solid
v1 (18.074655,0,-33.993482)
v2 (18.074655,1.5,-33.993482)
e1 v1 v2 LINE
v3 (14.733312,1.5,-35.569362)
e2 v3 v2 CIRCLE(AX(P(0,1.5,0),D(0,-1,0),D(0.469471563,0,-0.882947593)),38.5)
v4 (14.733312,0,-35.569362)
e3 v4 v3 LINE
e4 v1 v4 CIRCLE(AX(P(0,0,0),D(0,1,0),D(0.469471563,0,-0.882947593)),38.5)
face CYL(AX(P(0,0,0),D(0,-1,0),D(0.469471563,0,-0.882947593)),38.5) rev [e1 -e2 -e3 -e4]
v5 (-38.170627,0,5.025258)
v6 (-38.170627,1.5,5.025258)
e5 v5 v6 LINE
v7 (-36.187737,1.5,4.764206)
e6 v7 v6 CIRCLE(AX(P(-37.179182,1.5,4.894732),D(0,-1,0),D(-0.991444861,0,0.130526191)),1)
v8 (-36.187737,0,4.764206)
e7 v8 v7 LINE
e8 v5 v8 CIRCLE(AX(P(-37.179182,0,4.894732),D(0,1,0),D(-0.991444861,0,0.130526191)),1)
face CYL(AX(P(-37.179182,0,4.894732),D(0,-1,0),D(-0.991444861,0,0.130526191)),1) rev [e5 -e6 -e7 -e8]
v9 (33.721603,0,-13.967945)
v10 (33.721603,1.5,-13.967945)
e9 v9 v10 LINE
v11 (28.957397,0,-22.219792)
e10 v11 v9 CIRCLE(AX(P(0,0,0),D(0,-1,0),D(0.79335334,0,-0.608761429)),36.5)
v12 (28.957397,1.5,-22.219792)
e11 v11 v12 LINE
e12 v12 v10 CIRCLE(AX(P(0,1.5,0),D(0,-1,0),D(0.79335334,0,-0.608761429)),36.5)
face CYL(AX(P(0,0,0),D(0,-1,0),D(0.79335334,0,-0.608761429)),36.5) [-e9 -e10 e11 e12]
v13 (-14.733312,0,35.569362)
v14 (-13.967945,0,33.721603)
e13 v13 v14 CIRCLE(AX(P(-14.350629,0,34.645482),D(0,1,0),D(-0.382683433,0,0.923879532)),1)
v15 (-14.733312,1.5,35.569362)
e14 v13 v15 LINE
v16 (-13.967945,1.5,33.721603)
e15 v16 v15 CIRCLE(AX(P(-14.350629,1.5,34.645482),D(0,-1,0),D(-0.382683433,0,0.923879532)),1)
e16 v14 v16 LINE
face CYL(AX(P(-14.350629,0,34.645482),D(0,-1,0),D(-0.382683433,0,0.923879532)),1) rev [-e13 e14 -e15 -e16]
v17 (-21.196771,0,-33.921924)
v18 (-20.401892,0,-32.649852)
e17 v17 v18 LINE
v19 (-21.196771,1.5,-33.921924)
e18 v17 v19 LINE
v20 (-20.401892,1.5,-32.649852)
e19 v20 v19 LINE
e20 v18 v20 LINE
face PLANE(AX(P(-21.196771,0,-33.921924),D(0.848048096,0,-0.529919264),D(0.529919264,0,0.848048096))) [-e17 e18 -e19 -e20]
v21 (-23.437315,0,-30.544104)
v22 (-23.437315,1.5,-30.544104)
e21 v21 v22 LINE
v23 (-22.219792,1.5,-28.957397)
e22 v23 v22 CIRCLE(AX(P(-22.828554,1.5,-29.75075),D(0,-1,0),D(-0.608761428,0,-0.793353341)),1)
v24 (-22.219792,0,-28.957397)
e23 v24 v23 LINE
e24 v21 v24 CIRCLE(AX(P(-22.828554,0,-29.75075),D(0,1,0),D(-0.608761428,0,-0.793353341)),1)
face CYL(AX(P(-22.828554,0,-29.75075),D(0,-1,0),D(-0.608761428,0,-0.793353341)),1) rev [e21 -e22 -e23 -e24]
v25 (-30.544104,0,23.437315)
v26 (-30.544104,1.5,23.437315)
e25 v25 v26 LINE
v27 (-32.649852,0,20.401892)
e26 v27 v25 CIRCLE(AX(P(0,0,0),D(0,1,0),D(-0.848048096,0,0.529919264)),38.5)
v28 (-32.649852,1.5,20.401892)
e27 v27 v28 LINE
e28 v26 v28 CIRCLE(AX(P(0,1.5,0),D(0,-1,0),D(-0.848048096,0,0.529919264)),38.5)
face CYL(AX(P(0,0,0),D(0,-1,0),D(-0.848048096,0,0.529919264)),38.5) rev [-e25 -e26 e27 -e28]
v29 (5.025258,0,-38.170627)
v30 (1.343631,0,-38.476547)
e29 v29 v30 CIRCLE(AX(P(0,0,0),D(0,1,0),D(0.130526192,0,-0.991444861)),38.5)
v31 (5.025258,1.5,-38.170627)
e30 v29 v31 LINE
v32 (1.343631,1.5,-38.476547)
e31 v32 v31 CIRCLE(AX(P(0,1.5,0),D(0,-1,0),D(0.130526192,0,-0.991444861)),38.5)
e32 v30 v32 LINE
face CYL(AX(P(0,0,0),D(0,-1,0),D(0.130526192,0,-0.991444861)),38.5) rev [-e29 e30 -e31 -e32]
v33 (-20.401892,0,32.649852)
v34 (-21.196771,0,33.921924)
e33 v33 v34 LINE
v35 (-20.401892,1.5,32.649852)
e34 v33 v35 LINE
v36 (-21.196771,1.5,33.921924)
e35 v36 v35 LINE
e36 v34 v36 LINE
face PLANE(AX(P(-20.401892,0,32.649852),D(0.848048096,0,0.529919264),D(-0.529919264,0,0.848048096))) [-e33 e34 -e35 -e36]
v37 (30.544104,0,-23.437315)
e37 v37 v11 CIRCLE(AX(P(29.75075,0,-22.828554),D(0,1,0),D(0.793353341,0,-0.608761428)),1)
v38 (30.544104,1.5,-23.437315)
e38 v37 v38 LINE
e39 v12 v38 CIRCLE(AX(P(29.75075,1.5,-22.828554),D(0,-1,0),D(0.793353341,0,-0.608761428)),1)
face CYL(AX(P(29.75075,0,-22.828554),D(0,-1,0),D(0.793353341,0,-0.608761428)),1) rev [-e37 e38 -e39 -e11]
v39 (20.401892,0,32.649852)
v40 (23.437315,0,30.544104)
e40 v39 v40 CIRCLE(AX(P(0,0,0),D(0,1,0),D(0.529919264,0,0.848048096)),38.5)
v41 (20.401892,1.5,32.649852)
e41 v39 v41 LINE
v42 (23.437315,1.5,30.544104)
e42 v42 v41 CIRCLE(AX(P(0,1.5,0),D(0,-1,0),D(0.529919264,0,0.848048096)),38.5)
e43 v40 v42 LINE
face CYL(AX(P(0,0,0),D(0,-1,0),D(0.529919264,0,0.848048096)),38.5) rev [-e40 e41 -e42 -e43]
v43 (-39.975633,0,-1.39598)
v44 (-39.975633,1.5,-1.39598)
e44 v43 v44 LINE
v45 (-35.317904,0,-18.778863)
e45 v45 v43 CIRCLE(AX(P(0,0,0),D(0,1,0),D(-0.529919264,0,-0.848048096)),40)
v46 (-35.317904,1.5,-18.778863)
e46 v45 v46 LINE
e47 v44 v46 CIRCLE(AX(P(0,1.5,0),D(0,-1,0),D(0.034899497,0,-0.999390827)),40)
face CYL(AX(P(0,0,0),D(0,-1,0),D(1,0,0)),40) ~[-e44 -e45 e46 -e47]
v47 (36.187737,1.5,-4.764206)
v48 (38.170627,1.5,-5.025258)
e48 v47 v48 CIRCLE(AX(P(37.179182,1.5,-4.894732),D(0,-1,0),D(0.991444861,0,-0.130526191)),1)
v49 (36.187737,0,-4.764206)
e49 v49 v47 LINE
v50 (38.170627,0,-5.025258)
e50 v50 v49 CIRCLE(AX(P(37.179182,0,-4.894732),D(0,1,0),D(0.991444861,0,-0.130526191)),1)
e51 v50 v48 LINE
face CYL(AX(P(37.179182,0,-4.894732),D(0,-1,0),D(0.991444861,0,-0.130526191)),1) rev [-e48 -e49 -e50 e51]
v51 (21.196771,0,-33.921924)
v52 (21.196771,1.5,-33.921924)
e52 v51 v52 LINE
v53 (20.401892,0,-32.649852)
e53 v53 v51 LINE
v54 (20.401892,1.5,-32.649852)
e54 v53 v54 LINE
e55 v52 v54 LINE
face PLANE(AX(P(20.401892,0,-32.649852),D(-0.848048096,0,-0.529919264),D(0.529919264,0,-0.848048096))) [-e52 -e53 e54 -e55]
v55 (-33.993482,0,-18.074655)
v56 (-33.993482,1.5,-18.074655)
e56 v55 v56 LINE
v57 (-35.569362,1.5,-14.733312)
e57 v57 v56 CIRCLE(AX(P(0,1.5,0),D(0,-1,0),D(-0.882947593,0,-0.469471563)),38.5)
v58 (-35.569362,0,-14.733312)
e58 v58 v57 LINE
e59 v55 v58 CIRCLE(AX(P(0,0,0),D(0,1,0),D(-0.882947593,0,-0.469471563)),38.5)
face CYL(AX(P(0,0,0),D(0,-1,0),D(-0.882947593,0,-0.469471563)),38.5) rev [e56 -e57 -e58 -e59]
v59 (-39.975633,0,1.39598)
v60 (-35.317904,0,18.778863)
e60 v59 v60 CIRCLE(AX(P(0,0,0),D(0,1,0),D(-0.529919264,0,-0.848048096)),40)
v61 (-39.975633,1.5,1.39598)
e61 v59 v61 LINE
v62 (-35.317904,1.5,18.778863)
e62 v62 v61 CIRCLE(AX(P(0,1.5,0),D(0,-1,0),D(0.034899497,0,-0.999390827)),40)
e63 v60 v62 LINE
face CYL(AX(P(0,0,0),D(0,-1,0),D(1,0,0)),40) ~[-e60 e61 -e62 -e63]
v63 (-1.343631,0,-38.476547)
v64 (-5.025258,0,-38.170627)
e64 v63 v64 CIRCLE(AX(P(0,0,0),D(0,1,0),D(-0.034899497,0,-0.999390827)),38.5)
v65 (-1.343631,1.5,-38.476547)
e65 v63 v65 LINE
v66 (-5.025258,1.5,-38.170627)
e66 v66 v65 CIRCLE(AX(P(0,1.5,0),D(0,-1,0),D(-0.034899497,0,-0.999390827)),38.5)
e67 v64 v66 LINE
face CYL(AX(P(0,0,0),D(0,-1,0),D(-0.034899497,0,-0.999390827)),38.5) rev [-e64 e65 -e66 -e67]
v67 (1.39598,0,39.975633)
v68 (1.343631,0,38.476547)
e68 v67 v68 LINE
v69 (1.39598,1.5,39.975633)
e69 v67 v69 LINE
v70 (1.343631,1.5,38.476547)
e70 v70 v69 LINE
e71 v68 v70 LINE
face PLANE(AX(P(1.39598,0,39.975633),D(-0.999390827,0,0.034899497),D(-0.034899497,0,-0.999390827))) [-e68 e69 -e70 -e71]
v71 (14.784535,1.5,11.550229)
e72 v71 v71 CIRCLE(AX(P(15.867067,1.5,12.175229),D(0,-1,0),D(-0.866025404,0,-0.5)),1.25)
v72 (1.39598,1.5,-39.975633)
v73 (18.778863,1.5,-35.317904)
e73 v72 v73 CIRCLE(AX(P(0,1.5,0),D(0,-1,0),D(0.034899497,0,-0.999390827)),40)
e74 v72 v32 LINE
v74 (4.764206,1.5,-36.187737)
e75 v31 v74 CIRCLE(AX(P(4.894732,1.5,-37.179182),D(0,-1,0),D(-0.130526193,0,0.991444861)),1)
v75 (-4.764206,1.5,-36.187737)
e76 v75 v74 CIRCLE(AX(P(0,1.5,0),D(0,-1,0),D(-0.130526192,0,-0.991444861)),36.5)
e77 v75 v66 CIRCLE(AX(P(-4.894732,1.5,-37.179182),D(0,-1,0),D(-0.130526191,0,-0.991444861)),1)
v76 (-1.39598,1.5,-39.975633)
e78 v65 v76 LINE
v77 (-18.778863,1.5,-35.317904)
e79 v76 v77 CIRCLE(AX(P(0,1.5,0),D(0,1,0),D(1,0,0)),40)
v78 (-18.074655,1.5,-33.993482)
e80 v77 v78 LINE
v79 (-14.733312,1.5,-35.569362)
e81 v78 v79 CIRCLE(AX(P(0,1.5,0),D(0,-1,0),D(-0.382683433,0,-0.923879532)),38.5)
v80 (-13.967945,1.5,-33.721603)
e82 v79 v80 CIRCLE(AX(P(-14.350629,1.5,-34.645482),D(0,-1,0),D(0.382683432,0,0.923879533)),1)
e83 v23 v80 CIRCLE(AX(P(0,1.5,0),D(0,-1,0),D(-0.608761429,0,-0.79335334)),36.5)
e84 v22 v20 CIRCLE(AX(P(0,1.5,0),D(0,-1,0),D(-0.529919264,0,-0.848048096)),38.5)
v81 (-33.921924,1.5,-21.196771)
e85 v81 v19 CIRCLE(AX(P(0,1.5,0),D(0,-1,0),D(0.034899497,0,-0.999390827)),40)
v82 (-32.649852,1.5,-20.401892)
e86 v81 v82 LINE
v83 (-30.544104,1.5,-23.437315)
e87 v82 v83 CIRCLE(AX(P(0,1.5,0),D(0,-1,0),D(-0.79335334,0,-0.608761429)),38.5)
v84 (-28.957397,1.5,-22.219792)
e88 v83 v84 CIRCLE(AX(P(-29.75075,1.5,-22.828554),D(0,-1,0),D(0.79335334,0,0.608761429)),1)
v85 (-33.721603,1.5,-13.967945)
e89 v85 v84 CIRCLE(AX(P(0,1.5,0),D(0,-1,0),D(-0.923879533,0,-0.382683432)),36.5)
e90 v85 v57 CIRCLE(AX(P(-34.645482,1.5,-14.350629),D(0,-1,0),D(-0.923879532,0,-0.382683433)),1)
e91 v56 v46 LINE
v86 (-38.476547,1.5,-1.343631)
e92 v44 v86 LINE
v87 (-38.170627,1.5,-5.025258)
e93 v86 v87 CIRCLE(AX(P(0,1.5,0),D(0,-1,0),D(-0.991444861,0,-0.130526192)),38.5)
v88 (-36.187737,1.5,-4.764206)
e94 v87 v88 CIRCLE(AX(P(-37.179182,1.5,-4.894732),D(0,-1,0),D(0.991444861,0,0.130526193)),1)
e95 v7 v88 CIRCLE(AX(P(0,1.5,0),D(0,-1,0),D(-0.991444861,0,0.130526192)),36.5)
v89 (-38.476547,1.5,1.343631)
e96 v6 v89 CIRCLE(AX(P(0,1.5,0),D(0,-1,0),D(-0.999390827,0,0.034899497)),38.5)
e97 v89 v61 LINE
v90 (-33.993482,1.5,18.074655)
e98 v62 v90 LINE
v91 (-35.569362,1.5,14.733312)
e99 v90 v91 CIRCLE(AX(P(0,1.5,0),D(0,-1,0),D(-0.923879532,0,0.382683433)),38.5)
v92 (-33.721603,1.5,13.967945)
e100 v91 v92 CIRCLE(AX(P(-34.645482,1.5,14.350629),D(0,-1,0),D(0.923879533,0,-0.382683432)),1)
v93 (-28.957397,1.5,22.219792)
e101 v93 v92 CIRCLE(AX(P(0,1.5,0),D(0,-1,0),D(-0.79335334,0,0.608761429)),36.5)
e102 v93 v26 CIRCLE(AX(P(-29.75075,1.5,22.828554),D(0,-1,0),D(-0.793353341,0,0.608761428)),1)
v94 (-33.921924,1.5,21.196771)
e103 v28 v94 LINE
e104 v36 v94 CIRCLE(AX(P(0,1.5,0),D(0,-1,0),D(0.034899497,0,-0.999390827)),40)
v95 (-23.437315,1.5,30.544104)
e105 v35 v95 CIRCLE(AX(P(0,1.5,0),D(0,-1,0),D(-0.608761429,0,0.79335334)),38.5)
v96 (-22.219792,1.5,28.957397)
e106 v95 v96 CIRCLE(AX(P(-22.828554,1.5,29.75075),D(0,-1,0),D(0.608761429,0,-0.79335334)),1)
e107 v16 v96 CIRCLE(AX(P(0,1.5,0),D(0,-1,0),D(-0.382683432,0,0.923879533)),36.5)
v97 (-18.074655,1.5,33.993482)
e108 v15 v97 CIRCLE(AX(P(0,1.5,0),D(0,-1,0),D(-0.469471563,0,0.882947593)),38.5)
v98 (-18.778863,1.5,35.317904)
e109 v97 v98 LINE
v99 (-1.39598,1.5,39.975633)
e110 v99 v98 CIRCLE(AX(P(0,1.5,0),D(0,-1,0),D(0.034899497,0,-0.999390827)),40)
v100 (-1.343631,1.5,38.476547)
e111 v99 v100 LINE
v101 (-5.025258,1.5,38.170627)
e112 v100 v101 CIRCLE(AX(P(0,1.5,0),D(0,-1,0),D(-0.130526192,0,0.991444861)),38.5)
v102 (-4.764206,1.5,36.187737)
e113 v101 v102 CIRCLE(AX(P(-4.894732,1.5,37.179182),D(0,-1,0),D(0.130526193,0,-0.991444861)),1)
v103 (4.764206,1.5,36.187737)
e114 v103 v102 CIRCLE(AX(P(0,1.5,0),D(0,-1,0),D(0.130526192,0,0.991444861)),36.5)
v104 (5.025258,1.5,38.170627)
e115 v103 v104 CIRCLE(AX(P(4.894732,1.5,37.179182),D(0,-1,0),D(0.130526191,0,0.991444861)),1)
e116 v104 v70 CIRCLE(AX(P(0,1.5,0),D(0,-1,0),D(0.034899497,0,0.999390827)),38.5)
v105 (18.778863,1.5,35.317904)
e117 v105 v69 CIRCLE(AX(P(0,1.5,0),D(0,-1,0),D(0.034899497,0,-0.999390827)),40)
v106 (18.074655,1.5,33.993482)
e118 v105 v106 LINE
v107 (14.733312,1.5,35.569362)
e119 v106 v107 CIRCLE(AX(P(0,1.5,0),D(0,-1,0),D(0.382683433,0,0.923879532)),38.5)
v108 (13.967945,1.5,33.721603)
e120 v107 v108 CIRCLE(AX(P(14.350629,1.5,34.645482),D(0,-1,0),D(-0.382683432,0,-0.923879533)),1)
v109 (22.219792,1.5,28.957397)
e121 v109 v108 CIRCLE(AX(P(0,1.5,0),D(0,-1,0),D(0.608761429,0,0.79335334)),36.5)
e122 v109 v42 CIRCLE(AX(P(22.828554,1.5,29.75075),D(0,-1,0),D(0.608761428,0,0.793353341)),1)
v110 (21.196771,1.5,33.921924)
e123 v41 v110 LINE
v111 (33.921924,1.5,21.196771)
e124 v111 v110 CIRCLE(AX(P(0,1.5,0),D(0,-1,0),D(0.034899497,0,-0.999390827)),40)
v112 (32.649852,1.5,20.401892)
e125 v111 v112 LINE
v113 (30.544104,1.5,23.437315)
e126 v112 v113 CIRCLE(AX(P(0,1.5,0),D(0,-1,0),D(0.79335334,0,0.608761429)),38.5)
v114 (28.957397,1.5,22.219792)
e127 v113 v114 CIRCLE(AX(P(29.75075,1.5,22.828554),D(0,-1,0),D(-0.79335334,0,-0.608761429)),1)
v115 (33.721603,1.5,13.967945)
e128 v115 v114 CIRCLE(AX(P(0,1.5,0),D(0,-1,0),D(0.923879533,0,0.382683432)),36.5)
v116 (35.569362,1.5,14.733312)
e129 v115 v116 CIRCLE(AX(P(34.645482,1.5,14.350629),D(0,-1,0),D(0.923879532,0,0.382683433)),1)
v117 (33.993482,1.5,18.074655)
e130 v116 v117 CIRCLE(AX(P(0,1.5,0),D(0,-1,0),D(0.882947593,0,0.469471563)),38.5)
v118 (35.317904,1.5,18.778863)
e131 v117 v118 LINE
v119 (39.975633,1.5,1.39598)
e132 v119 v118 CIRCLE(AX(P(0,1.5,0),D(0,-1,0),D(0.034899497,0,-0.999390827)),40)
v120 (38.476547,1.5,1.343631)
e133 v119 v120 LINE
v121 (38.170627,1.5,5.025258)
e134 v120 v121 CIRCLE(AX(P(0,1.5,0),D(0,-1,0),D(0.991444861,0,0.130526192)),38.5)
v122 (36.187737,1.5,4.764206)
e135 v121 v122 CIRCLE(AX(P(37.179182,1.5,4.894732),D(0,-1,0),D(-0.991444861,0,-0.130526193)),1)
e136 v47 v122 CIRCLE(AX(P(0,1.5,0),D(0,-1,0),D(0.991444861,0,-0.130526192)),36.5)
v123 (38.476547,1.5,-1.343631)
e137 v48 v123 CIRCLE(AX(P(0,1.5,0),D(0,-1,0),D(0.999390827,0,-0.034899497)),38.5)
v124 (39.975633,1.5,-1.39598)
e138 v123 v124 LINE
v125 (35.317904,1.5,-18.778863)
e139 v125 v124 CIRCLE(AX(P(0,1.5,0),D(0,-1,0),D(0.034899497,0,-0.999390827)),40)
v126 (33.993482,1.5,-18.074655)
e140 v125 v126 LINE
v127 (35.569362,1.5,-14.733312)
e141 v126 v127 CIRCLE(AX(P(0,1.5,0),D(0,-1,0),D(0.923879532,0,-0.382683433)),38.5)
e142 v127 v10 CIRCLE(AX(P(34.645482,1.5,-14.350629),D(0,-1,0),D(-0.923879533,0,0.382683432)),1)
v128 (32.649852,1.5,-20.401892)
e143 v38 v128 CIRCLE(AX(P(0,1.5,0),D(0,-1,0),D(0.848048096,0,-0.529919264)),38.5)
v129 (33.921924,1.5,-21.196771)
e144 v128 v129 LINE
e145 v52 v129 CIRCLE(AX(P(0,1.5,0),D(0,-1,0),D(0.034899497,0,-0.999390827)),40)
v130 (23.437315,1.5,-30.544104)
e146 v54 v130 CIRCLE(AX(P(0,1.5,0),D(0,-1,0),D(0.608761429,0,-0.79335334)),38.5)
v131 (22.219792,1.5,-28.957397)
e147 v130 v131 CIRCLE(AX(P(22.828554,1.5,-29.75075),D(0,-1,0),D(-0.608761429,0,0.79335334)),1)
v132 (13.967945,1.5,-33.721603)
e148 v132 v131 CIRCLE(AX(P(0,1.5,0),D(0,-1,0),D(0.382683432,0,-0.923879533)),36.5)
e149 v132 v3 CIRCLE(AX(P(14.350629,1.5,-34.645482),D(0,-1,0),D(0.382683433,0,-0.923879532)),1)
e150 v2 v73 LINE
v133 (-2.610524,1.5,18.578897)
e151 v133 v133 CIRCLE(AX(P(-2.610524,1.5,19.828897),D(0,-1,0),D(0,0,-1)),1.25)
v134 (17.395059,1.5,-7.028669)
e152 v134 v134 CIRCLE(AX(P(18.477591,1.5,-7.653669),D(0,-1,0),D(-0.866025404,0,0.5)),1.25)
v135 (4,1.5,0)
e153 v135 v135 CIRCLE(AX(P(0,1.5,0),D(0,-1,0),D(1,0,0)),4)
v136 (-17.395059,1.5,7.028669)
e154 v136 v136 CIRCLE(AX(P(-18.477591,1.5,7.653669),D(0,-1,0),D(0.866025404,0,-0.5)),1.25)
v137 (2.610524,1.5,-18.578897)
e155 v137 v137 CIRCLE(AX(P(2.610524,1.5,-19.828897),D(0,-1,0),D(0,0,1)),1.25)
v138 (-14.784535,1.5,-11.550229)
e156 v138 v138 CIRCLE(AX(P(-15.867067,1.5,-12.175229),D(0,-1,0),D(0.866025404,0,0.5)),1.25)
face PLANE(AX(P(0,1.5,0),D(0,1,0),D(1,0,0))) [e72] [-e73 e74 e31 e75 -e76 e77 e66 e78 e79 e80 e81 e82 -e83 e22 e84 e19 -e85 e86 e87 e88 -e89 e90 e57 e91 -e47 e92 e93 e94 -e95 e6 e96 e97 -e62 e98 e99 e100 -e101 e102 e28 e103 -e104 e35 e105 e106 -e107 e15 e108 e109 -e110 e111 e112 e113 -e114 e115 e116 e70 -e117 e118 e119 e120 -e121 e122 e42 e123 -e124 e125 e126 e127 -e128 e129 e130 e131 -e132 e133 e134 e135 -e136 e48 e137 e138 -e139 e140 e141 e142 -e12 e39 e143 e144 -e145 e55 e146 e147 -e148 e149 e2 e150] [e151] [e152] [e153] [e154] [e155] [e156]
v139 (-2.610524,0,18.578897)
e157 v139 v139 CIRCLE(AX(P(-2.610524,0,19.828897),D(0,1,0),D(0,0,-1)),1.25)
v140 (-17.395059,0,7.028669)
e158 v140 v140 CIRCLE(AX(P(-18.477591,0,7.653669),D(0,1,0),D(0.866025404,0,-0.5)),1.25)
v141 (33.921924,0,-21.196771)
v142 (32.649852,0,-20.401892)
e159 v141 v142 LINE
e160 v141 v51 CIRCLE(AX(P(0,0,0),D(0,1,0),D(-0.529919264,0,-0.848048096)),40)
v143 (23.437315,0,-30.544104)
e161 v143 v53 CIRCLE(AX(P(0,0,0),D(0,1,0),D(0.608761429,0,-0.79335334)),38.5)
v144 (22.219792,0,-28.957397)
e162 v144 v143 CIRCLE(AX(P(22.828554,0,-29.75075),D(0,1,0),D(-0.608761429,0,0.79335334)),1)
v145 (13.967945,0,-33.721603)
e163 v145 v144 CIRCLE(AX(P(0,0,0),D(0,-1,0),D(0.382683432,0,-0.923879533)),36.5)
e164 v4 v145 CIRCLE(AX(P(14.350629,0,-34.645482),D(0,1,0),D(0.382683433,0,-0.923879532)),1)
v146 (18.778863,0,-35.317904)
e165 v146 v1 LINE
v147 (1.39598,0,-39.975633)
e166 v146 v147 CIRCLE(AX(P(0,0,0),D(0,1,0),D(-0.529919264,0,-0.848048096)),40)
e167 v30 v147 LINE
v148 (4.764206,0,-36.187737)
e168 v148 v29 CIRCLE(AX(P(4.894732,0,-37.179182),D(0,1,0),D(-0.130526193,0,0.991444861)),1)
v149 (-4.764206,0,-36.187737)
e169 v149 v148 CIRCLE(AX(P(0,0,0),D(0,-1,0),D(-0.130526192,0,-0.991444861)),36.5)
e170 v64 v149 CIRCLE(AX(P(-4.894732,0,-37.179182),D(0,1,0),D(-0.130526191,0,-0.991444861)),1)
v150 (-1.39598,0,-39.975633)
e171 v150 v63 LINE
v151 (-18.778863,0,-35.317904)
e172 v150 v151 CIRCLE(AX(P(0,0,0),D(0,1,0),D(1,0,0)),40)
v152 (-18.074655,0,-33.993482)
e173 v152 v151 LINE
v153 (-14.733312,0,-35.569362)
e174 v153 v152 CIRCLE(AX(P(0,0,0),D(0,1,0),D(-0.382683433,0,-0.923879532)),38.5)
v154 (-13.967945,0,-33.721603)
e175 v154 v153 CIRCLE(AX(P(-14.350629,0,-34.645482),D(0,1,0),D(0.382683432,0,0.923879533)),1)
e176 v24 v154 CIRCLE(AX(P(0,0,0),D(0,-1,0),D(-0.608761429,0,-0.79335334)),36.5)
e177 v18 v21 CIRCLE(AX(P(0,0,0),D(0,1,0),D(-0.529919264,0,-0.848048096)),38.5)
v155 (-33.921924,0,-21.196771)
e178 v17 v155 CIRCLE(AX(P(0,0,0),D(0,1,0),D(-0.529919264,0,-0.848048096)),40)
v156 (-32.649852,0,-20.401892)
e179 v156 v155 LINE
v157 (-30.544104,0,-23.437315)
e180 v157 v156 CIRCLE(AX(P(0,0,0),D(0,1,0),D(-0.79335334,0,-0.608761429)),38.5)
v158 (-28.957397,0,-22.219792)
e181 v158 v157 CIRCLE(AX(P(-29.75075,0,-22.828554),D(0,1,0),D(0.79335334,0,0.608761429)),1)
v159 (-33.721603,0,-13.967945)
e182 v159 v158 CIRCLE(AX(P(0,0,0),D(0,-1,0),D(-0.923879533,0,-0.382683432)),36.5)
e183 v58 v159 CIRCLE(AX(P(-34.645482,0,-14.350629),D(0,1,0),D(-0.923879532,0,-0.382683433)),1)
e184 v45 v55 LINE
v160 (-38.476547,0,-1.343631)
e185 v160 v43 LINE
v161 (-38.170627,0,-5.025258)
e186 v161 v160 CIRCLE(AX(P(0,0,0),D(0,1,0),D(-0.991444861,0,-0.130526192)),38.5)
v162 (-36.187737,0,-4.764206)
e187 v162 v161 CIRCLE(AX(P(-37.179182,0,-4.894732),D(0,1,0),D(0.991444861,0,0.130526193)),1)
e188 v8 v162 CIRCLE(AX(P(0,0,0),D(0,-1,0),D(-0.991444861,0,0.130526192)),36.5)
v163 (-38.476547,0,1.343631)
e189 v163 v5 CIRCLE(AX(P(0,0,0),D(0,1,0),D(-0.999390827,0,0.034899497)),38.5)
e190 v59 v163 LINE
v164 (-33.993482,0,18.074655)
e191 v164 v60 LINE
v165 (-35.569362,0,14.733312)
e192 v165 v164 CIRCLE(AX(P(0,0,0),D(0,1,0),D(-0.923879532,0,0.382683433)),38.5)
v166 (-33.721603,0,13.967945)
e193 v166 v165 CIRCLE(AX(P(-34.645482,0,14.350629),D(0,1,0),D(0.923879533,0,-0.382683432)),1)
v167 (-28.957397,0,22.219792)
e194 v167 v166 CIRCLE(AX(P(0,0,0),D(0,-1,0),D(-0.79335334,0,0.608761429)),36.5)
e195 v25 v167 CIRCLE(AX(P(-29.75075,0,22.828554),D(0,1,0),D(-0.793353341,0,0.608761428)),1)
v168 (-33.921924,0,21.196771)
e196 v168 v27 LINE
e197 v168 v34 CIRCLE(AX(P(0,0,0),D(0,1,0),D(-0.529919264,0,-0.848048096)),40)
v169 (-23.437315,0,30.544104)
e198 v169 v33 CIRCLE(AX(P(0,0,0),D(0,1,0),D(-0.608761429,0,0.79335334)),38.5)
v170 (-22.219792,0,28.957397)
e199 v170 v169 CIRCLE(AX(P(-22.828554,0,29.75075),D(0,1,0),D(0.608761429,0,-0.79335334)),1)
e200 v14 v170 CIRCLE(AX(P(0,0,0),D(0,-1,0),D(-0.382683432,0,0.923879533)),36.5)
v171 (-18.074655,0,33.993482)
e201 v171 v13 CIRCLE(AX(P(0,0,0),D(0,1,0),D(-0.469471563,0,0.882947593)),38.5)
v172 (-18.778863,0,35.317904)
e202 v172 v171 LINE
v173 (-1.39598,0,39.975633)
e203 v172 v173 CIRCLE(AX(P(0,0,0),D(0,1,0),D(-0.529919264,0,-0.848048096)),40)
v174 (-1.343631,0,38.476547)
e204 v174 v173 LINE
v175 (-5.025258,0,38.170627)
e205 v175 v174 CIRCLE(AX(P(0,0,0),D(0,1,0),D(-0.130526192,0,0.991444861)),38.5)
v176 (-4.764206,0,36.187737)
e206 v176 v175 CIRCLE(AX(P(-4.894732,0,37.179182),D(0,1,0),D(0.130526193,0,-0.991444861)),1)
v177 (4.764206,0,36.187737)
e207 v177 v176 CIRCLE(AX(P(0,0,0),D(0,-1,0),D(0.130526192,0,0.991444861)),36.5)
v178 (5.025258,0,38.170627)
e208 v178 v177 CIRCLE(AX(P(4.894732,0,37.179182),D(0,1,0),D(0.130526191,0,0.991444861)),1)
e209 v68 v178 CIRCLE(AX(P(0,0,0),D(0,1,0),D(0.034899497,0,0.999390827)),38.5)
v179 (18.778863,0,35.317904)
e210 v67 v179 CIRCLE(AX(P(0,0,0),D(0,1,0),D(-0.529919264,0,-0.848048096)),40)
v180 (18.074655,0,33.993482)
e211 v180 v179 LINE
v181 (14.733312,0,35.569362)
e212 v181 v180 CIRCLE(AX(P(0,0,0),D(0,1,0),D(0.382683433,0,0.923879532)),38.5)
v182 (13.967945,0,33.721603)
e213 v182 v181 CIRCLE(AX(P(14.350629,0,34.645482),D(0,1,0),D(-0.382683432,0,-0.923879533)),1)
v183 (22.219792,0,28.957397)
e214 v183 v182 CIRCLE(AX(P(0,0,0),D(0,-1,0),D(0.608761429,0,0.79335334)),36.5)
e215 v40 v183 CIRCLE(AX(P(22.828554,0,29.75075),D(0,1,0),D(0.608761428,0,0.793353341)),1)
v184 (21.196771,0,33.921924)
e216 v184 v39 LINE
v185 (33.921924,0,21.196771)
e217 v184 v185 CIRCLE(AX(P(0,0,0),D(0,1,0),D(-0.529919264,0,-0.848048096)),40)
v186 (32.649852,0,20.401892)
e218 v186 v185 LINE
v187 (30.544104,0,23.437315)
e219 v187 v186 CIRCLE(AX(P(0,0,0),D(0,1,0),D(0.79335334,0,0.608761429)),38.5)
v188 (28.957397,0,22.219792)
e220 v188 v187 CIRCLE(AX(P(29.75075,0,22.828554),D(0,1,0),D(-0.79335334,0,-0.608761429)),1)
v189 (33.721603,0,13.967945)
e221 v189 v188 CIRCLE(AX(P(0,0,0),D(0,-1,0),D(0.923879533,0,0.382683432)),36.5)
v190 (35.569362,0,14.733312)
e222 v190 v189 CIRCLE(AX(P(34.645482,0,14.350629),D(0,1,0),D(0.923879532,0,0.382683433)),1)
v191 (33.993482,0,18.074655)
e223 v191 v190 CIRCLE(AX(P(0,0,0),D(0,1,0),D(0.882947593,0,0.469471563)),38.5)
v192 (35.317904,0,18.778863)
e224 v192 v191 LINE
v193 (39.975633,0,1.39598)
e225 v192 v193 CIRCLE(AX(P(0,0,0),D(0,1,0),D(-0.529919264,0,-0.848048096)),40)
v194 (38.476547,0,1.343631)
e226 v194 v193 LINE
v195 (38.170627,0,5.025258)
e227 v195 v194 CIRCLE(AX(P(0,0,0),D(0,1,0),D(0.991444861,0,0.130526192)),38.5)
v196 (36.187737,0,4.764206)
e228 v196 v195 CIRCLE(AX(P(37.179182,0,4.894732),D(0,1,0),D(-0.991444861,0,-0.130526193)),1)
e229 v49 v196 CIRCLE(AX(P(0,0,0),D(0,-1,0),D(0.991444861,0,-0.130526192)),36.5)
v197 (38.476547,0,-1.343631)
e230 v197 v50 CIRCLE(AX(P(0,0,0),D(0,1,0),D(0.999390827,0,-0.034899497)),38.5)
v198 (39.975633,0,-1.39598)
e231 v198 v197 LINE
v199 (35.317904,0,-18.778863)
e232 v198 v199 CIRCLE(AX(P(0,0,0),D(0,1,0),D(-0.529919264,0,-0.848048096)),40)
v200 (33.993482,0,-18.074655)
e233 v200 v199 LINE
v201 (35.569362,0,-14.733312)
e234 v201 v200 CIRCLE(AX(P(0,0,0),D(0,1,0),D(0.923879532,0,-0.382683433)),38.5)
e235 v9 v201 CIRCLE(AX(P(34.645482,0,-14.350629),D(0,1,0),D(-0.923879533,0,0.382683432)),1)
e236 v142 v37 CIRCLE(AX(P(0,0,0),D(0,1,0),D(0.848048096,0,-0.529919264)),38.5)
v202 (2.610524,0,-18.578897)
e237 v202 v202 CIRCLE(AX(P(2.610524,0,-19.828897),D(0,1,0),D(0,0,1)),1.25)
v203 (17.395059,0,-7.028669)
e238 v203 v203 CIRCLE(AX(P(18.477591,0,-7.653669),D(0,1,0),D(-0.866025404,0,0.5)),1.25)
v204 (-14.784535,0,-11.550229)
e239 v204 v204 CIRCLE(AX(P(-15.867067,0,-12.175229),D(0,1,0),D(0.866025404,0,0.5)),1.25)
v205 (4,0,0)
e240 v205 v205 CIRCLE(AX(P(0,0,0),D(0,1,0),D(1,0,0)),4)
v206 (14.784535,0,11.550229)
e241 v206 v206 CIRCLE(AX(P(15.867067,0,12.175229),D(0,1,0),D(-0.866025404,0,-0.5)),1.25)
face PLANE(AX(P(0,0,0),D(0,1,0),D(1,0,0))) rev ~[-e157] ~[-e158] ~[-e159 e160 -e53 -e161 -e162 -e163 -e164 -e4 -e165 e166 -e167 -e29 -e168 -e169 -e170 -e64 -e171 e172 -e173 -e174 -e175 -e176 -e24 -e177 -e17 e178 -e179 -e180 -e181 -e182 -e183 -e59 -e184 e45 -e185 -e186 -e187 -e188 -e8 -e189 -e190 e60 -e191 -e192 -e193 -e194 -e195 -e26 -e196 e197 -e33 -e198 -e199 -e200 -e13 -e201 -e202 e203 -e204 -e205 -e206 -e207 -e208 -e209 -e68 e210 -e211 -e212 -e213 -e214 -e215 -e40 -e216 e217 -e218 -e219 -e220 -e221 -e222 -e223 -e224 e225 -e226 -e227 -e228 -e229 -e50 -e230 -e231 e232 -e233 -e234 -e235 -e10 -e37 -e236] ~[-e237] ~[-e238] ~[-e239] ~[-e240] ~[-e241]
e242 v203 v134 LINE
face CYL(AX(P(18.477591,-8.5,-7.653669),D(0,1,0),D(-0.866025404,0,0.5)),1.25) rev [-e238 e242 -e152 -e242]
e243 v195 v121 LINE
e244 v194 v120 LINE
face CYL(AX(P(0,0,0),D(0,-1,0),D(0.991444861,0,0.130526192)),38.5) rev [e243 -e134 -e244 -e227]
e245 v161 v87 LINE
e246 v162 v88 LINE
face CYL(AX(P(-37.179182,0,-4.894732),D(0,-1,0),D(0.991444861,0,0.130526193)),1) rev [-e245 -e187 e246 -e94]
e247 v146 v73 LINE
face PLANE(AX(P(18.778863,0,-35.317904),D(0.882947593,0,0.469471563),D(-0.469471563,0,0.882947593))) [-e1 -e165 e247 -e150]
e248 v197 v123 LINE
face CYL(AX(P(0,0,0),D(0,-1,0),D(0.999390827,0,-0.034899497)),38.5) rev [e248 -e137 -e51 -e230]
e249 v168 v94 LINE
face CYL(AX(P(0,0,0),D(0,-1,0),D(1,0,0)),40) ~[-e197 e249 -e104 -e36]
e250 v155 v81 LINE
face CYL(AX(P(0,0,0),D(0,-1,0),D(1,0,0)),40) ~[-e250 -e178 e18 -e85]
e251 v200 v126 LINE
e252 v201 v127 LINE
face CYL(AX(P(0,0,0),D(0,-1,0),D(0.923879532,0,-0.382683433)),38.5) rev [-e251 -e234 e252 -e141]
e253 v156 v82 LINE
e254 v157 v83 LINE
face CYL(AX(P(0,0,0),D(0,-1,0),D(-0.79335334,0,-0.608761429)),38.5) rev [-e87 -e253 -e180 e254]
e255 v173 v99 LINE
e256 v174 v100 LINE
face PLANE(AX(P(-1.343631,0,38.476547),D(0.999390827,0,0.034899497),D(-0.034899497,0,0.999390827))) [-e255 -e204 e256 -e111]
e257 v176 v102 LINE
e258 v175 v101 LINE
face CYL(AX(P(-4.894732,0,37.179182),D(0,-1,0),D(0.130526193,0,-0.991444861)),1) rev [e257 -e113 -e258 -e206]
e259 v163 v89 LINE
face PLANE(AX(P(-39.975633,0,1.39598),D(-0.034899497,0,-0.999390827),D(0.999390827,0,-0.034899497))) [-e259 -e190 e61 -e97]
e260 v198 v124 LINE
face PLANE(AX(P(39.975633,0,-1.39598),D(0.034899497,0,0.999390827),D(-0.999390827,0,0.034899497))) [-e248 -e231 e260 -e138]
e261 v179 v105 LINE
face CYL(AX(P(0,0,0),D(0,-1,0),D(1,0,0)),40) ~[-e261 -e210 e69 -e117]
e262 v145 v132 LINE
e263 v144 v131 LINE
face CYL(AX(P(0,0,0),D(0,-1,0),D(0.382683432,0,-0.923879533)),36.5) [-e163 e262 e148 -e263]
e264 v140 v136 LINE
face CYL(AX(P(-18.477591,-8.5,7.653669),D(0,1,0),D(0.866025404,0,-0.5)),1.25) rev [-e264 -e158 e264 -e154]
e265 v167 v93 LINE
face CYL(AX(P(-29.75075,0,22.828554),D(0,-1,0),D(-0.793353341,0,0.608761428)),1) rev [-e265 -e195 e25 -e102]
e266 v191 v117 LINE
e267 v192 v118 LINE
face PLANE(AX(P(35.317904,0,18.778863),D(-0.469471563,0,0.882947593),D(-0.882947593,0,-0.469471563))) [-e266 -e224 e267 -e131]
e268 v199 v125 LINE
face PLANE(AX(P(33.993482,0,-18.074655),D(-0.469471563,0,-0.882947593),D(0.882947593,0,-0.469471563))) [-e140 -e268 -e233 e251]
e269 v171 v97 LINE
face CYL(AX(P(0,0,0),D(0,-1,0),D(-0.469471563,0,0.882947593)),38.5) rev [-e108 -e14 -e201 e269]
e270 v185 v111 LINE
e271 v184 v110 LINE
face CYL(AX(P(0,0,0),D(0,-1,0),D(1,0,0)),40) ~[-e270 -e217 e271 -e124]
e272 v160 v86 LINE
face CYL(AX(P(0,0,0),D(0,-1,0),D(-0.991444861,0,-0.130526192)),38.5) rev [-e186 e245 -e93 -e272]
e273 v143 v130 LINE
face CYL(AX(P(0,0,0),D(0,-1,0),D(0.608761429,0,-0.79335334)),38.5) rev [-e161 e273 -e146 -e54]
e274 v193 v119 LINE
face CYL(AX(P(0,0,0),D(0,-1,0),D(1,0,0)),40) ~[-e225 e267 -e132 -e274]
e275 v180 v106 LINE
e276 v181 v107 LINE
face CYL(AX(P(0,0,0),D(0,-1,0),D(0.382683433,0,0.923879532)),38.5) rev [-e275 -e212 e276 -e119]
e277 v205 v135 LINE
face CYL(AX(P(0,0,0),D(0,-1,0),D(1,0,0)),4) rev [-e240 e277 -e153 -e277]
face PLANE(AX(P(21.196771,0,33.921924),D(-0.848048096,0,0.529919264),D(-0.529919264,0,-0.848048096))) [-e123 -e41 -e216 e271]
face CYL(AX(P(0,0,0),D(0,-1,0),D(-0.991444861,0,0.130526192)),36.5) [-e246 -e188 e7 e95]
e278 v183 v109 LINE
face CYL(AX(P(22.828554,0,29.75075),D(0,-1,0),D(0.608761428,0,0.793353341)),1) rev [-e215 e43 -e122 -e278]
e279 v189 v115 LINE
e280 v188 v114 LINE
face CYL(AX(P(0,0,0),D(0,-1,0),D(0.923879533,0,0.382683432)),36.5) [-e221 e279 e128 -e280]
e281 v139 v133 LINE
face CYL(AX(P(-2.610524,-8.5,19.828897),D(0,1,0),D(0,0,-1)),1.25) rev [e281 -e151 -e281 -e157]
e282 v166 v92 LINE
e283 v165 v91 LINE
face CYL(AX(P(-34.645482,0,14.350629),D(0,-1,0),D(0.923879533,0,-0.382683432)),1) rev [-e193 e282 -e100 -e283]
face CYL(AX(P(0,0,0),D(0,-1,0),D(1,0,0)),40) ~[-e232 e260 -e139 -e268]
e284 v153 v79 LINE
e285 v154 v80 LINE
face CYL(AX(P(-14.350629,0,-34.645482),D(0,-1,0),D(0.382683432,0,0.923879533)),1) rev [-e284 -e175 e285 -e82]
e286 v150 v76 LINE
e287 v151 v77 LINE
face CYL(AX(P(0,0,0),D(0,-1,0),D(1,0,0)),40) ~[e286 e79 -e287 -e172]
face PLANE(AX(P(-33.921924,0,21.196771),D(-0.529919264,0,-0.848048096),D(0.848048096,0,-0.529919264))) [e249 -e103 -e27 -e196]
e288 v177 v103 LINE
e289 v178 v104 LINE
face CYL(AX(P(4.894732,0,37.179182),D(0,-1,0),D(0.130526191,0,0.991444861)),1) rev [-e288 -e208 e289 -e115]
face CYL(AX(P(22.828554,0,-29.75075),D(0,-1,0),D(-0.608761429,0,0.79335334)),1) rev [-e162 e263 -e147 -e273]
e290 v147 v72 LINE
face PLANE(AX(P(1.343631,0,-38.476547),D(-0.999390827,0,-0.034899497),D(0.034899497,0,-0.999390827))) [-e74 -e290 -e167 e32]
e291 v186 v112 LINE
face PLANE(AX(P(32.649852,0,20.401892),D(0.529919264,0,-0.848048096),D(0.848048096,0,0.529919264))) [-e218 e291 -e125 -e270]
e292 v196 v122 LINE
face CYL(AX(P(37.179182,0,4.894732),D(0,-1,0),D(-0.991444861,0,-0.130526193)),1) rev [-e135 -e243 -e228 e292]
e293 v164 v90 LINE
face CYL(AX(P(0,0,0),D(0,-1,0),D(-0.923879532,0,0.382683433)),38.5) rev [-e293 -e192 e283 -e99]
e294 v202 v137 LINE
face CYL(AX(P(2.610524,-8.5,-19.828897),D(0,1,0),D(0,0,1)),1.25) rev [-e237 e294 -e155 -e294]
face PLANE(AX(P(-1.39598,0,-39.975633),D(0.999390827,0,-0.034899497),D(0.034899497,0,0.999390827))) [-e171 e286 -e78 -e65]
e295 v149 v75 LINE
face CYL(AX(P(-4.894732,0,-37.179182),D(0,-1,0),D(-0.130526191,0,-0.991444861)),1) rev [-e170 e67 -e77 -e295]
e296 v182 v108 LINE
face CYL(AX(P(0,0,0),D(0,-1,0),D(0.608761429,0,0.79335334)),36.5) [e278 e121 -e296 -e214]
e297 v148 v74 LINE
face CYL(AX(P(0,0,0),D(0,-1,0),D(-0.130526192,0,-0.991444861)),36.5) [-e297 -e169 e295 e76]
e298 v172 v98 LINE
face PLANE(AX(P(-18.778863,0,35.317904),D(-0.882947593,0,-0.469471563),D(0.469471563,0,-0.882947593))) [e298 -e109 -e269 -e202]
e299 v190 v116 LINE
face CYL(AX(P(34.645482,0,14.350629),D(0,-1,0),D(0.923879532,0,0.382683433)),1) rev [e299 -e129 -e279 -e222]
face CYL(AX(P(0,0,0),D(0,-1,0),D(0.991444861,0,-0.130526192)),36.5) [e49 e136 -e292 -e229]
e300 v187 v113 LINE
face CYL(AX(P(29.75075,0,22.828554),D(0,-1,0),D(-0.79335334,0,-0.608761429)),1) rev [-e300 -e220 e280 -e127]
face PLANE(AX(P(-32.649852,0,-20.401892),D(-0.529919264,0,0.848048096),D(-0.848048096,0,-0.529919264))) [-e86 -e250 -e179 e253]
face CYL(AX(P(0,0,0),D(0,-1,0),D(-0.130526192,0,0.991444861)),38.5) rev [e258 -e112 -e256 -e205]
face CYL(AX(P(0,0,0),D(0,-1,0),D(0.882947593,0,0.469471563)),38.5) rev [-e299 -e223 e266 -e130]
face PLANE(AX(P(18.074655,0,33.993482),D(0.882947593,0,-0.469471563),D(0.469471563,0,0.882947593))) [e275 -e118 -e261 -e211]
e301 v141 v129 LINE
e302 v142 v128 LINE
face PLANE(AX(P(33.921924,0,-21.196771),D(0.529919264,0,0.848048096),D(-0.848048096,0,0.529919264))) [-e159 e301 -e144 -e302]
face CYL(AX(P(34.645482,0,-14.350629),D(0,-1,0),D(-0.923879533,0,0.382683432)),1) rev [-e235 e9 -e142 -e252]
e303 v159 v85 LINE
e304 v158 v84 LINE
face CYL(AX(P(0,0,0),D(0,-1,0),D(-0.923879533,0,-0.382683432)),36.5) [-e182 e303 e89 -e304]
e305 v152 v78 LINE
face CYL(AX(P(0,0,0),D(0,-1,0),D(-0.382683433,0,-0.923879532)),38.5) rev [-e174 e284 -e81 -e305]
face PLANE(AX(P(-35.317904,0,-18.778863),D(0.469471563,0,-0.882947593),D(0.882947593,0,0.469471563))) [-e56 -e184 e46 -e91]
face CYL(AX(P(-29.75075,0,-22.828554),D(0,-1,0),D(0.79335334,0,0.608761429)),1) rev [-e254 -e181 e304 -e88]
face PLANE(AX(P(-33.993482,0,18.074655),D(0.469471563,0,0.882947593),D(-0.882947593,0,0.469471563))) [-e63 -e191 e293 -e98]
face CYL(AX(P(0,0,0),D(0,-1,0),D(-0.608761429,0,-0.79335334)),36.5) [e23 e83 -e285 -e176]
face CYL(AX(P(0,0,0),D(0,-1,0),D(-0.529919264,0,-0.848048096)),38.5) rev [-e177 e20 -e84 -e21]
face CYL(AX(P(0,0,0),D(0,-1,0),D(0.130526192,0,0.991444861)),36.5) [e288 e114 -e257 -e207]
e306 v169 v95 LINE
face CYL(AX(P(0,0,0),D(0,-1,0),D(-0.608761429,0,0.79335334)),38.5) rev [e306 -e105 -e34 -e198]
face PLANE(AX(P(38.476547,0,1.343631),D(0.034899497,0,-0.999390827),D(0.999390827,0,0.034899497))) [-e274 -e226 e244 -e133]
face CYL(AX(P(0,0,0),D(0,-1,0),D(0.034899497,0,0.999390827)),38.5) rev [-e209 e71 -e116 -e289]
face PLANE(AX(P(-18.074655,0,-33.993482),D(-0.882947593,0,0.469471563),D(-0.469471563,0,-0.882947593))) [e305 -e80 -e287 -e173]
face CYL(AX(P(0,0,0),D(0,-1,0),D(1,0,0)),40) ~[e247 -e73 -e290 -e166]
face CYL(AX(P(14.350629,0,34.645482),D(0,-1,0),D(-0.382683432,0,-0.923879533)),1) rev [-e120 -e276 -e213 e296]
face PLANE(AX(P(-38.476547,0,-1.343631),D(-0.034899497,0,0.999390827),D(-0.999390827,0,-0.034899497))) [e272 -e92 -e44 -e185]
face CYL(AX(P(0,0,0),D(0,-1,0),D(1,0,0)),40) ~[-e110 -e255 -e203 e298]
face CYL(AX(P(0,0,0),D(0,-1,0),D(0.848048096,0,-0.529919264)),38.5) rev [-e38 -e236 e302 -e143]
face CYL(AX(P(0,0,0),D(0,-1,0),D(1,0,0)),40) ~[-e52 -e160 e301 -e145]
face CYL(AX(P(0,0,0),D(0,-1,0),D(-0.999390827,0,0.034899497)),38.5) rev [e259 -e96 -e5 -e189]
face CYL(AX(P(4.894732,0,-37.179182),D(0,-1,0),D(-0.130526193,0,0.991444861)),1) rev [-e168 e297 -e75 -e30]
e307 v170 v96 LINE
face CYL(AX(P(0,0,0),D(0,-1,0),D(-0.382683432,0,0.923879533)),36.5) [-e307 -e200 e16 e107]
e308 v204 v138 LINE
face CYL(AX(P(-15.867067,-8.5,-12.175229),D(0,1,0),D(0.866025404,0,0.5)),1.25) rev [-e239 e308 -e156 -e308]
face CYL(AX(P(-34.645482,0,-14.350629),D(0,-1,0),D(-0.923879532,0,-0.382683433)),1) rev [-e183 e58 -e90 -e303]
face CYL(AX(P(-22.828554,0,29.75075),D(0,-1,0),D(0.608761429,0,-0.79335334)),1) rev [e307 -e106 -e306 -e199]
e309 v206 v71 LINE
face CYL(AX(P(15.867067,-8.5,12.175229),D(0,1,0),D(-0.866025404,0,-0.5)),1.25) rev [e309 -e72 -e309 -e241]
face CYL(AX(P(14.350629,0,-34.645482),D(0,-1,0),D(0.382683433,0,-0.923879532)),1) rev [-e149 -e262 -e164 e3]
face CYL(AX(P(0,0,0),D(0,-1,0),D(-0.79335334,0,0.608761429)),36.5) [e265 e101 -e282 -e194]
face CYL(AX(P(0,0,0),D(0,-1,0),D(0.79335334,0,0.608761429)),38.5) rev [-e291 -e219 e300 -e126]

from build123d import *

# Parameters (mm, degrees)
SKETCH1_R         = 40
WHEEL_BLANK_DEPTH = 1.5
T_SLOT_DEPTH      = 2.5
CIRPATTERN_COUNT  = 12
SKETCH3_R         = 4
CENTER_HOLE_DEPTH = 6
CIRPATTERN1_COUNT = 6


with BuildPart() as part:
    # Sketch1 → Wheel Blank (new body)
    with BuildSketch(Plane(origin=(0, 0, 0), x_dir=(1, 0, 0), z_dir=(0, 1, 0))):
        Circle(SKETCH1_R)
    extrude(amount=WHEEL_BLANK_DEPTH)

    # Sketch2 → T-Slot (cut, through all)
    with BuildSketch(Plane(origin=(0, 0, 0), x_dir=(1, 0, 0), z_dir=(0, 1, 0))):
        with BuildLine():
            Line((-1.395979868, 39.975633081), (-1.343630623, 38.47654684))
            ThreePointArc((-1.343630623, 38.47654684), (-3.188115989, 38.367771846), (-5.0252584, 38.170627163))
            ThreePointArc((-5.0252584, 38.170627163), (-5.88617707, 37.048656109), (-4.764206016, 36.18773744))
            ThreePointArc((-4.764206016, 36.18773744), (0, 36.5), (4.764206016, 36.18773744))
            ThreePointArc((4.764206016, 36.18773744), (5.88617707, 37.048656109), (5.0252584, 38.170627163))
            ThreePointArc((5.0252584, 38.170627163), (3.188115989, 38.367771846), (1.343630623, 38.47654684))
            Line((1.343630623, 38.47654684), (1.395979868, 39.975633081))
            ThreePointArc((1.395979868, 39.975633081), (0, 40), (-1.395979868, 39.975633081))
        make_face()
    t_slot = extrude(amount=T_SLOT_DEPTH, mode=Mode.SUBTRACT)

    # CirPattern: T-Slot ×12 about axis
    cirpattern_axis = Axis((0, 0, 0), (0, 1, 0))
    for i in range(1, CIRPATTERN_COUNT):
        add(t_slot.rotate(cirpattern_axis, i * 360 / CIRPATTERN_COUNT), mode=Mode.SUBTRACT)

    # Sketch3 → Center Hole (cut)
    with BuildSketch(Plane(origin=(0, 0, 0), x_dir=(1, 0, 0), z_dir=(0, 1, 0))):
        Circle(SKETCH3_R)
    extrude(amount=CENTER_HOLE_DEPTH, mode=Mode.SUBTRACT)

    # Sketch4 → M3 Clearance Hole1 (revolve, cut)
    with BuildSketch(Plane(origin=(2.610523844, 1.5, -19.828897227), x_dir=(0, 0, 1), z_dir=(1, 0, 0))):
        Polygon((0, 0), (0, 10.751075774), (1.25, 10), (1.25, 0), align=None)
    m3_clearance_hole1 = revolve(axis=Axis((2.610523844, 7.85, -19.828897227), (0, -1, 0)), mode=Mode.SUBTRACT)

    # CirPattern1: M3 Clearance Hole1 ×6 about axis
    cirpattern1_axis = Axis((0, 0, 0), (0, 1, 0))
    for i in range(1, CIRPATTERN1_COUNT):
        add(m3_clearance_hole1.rotate(cirpattern1_axis, i * 360 / CIRPATTERN1_COUNT), mode=Mode.SUBTRACT)


solid = part.part
